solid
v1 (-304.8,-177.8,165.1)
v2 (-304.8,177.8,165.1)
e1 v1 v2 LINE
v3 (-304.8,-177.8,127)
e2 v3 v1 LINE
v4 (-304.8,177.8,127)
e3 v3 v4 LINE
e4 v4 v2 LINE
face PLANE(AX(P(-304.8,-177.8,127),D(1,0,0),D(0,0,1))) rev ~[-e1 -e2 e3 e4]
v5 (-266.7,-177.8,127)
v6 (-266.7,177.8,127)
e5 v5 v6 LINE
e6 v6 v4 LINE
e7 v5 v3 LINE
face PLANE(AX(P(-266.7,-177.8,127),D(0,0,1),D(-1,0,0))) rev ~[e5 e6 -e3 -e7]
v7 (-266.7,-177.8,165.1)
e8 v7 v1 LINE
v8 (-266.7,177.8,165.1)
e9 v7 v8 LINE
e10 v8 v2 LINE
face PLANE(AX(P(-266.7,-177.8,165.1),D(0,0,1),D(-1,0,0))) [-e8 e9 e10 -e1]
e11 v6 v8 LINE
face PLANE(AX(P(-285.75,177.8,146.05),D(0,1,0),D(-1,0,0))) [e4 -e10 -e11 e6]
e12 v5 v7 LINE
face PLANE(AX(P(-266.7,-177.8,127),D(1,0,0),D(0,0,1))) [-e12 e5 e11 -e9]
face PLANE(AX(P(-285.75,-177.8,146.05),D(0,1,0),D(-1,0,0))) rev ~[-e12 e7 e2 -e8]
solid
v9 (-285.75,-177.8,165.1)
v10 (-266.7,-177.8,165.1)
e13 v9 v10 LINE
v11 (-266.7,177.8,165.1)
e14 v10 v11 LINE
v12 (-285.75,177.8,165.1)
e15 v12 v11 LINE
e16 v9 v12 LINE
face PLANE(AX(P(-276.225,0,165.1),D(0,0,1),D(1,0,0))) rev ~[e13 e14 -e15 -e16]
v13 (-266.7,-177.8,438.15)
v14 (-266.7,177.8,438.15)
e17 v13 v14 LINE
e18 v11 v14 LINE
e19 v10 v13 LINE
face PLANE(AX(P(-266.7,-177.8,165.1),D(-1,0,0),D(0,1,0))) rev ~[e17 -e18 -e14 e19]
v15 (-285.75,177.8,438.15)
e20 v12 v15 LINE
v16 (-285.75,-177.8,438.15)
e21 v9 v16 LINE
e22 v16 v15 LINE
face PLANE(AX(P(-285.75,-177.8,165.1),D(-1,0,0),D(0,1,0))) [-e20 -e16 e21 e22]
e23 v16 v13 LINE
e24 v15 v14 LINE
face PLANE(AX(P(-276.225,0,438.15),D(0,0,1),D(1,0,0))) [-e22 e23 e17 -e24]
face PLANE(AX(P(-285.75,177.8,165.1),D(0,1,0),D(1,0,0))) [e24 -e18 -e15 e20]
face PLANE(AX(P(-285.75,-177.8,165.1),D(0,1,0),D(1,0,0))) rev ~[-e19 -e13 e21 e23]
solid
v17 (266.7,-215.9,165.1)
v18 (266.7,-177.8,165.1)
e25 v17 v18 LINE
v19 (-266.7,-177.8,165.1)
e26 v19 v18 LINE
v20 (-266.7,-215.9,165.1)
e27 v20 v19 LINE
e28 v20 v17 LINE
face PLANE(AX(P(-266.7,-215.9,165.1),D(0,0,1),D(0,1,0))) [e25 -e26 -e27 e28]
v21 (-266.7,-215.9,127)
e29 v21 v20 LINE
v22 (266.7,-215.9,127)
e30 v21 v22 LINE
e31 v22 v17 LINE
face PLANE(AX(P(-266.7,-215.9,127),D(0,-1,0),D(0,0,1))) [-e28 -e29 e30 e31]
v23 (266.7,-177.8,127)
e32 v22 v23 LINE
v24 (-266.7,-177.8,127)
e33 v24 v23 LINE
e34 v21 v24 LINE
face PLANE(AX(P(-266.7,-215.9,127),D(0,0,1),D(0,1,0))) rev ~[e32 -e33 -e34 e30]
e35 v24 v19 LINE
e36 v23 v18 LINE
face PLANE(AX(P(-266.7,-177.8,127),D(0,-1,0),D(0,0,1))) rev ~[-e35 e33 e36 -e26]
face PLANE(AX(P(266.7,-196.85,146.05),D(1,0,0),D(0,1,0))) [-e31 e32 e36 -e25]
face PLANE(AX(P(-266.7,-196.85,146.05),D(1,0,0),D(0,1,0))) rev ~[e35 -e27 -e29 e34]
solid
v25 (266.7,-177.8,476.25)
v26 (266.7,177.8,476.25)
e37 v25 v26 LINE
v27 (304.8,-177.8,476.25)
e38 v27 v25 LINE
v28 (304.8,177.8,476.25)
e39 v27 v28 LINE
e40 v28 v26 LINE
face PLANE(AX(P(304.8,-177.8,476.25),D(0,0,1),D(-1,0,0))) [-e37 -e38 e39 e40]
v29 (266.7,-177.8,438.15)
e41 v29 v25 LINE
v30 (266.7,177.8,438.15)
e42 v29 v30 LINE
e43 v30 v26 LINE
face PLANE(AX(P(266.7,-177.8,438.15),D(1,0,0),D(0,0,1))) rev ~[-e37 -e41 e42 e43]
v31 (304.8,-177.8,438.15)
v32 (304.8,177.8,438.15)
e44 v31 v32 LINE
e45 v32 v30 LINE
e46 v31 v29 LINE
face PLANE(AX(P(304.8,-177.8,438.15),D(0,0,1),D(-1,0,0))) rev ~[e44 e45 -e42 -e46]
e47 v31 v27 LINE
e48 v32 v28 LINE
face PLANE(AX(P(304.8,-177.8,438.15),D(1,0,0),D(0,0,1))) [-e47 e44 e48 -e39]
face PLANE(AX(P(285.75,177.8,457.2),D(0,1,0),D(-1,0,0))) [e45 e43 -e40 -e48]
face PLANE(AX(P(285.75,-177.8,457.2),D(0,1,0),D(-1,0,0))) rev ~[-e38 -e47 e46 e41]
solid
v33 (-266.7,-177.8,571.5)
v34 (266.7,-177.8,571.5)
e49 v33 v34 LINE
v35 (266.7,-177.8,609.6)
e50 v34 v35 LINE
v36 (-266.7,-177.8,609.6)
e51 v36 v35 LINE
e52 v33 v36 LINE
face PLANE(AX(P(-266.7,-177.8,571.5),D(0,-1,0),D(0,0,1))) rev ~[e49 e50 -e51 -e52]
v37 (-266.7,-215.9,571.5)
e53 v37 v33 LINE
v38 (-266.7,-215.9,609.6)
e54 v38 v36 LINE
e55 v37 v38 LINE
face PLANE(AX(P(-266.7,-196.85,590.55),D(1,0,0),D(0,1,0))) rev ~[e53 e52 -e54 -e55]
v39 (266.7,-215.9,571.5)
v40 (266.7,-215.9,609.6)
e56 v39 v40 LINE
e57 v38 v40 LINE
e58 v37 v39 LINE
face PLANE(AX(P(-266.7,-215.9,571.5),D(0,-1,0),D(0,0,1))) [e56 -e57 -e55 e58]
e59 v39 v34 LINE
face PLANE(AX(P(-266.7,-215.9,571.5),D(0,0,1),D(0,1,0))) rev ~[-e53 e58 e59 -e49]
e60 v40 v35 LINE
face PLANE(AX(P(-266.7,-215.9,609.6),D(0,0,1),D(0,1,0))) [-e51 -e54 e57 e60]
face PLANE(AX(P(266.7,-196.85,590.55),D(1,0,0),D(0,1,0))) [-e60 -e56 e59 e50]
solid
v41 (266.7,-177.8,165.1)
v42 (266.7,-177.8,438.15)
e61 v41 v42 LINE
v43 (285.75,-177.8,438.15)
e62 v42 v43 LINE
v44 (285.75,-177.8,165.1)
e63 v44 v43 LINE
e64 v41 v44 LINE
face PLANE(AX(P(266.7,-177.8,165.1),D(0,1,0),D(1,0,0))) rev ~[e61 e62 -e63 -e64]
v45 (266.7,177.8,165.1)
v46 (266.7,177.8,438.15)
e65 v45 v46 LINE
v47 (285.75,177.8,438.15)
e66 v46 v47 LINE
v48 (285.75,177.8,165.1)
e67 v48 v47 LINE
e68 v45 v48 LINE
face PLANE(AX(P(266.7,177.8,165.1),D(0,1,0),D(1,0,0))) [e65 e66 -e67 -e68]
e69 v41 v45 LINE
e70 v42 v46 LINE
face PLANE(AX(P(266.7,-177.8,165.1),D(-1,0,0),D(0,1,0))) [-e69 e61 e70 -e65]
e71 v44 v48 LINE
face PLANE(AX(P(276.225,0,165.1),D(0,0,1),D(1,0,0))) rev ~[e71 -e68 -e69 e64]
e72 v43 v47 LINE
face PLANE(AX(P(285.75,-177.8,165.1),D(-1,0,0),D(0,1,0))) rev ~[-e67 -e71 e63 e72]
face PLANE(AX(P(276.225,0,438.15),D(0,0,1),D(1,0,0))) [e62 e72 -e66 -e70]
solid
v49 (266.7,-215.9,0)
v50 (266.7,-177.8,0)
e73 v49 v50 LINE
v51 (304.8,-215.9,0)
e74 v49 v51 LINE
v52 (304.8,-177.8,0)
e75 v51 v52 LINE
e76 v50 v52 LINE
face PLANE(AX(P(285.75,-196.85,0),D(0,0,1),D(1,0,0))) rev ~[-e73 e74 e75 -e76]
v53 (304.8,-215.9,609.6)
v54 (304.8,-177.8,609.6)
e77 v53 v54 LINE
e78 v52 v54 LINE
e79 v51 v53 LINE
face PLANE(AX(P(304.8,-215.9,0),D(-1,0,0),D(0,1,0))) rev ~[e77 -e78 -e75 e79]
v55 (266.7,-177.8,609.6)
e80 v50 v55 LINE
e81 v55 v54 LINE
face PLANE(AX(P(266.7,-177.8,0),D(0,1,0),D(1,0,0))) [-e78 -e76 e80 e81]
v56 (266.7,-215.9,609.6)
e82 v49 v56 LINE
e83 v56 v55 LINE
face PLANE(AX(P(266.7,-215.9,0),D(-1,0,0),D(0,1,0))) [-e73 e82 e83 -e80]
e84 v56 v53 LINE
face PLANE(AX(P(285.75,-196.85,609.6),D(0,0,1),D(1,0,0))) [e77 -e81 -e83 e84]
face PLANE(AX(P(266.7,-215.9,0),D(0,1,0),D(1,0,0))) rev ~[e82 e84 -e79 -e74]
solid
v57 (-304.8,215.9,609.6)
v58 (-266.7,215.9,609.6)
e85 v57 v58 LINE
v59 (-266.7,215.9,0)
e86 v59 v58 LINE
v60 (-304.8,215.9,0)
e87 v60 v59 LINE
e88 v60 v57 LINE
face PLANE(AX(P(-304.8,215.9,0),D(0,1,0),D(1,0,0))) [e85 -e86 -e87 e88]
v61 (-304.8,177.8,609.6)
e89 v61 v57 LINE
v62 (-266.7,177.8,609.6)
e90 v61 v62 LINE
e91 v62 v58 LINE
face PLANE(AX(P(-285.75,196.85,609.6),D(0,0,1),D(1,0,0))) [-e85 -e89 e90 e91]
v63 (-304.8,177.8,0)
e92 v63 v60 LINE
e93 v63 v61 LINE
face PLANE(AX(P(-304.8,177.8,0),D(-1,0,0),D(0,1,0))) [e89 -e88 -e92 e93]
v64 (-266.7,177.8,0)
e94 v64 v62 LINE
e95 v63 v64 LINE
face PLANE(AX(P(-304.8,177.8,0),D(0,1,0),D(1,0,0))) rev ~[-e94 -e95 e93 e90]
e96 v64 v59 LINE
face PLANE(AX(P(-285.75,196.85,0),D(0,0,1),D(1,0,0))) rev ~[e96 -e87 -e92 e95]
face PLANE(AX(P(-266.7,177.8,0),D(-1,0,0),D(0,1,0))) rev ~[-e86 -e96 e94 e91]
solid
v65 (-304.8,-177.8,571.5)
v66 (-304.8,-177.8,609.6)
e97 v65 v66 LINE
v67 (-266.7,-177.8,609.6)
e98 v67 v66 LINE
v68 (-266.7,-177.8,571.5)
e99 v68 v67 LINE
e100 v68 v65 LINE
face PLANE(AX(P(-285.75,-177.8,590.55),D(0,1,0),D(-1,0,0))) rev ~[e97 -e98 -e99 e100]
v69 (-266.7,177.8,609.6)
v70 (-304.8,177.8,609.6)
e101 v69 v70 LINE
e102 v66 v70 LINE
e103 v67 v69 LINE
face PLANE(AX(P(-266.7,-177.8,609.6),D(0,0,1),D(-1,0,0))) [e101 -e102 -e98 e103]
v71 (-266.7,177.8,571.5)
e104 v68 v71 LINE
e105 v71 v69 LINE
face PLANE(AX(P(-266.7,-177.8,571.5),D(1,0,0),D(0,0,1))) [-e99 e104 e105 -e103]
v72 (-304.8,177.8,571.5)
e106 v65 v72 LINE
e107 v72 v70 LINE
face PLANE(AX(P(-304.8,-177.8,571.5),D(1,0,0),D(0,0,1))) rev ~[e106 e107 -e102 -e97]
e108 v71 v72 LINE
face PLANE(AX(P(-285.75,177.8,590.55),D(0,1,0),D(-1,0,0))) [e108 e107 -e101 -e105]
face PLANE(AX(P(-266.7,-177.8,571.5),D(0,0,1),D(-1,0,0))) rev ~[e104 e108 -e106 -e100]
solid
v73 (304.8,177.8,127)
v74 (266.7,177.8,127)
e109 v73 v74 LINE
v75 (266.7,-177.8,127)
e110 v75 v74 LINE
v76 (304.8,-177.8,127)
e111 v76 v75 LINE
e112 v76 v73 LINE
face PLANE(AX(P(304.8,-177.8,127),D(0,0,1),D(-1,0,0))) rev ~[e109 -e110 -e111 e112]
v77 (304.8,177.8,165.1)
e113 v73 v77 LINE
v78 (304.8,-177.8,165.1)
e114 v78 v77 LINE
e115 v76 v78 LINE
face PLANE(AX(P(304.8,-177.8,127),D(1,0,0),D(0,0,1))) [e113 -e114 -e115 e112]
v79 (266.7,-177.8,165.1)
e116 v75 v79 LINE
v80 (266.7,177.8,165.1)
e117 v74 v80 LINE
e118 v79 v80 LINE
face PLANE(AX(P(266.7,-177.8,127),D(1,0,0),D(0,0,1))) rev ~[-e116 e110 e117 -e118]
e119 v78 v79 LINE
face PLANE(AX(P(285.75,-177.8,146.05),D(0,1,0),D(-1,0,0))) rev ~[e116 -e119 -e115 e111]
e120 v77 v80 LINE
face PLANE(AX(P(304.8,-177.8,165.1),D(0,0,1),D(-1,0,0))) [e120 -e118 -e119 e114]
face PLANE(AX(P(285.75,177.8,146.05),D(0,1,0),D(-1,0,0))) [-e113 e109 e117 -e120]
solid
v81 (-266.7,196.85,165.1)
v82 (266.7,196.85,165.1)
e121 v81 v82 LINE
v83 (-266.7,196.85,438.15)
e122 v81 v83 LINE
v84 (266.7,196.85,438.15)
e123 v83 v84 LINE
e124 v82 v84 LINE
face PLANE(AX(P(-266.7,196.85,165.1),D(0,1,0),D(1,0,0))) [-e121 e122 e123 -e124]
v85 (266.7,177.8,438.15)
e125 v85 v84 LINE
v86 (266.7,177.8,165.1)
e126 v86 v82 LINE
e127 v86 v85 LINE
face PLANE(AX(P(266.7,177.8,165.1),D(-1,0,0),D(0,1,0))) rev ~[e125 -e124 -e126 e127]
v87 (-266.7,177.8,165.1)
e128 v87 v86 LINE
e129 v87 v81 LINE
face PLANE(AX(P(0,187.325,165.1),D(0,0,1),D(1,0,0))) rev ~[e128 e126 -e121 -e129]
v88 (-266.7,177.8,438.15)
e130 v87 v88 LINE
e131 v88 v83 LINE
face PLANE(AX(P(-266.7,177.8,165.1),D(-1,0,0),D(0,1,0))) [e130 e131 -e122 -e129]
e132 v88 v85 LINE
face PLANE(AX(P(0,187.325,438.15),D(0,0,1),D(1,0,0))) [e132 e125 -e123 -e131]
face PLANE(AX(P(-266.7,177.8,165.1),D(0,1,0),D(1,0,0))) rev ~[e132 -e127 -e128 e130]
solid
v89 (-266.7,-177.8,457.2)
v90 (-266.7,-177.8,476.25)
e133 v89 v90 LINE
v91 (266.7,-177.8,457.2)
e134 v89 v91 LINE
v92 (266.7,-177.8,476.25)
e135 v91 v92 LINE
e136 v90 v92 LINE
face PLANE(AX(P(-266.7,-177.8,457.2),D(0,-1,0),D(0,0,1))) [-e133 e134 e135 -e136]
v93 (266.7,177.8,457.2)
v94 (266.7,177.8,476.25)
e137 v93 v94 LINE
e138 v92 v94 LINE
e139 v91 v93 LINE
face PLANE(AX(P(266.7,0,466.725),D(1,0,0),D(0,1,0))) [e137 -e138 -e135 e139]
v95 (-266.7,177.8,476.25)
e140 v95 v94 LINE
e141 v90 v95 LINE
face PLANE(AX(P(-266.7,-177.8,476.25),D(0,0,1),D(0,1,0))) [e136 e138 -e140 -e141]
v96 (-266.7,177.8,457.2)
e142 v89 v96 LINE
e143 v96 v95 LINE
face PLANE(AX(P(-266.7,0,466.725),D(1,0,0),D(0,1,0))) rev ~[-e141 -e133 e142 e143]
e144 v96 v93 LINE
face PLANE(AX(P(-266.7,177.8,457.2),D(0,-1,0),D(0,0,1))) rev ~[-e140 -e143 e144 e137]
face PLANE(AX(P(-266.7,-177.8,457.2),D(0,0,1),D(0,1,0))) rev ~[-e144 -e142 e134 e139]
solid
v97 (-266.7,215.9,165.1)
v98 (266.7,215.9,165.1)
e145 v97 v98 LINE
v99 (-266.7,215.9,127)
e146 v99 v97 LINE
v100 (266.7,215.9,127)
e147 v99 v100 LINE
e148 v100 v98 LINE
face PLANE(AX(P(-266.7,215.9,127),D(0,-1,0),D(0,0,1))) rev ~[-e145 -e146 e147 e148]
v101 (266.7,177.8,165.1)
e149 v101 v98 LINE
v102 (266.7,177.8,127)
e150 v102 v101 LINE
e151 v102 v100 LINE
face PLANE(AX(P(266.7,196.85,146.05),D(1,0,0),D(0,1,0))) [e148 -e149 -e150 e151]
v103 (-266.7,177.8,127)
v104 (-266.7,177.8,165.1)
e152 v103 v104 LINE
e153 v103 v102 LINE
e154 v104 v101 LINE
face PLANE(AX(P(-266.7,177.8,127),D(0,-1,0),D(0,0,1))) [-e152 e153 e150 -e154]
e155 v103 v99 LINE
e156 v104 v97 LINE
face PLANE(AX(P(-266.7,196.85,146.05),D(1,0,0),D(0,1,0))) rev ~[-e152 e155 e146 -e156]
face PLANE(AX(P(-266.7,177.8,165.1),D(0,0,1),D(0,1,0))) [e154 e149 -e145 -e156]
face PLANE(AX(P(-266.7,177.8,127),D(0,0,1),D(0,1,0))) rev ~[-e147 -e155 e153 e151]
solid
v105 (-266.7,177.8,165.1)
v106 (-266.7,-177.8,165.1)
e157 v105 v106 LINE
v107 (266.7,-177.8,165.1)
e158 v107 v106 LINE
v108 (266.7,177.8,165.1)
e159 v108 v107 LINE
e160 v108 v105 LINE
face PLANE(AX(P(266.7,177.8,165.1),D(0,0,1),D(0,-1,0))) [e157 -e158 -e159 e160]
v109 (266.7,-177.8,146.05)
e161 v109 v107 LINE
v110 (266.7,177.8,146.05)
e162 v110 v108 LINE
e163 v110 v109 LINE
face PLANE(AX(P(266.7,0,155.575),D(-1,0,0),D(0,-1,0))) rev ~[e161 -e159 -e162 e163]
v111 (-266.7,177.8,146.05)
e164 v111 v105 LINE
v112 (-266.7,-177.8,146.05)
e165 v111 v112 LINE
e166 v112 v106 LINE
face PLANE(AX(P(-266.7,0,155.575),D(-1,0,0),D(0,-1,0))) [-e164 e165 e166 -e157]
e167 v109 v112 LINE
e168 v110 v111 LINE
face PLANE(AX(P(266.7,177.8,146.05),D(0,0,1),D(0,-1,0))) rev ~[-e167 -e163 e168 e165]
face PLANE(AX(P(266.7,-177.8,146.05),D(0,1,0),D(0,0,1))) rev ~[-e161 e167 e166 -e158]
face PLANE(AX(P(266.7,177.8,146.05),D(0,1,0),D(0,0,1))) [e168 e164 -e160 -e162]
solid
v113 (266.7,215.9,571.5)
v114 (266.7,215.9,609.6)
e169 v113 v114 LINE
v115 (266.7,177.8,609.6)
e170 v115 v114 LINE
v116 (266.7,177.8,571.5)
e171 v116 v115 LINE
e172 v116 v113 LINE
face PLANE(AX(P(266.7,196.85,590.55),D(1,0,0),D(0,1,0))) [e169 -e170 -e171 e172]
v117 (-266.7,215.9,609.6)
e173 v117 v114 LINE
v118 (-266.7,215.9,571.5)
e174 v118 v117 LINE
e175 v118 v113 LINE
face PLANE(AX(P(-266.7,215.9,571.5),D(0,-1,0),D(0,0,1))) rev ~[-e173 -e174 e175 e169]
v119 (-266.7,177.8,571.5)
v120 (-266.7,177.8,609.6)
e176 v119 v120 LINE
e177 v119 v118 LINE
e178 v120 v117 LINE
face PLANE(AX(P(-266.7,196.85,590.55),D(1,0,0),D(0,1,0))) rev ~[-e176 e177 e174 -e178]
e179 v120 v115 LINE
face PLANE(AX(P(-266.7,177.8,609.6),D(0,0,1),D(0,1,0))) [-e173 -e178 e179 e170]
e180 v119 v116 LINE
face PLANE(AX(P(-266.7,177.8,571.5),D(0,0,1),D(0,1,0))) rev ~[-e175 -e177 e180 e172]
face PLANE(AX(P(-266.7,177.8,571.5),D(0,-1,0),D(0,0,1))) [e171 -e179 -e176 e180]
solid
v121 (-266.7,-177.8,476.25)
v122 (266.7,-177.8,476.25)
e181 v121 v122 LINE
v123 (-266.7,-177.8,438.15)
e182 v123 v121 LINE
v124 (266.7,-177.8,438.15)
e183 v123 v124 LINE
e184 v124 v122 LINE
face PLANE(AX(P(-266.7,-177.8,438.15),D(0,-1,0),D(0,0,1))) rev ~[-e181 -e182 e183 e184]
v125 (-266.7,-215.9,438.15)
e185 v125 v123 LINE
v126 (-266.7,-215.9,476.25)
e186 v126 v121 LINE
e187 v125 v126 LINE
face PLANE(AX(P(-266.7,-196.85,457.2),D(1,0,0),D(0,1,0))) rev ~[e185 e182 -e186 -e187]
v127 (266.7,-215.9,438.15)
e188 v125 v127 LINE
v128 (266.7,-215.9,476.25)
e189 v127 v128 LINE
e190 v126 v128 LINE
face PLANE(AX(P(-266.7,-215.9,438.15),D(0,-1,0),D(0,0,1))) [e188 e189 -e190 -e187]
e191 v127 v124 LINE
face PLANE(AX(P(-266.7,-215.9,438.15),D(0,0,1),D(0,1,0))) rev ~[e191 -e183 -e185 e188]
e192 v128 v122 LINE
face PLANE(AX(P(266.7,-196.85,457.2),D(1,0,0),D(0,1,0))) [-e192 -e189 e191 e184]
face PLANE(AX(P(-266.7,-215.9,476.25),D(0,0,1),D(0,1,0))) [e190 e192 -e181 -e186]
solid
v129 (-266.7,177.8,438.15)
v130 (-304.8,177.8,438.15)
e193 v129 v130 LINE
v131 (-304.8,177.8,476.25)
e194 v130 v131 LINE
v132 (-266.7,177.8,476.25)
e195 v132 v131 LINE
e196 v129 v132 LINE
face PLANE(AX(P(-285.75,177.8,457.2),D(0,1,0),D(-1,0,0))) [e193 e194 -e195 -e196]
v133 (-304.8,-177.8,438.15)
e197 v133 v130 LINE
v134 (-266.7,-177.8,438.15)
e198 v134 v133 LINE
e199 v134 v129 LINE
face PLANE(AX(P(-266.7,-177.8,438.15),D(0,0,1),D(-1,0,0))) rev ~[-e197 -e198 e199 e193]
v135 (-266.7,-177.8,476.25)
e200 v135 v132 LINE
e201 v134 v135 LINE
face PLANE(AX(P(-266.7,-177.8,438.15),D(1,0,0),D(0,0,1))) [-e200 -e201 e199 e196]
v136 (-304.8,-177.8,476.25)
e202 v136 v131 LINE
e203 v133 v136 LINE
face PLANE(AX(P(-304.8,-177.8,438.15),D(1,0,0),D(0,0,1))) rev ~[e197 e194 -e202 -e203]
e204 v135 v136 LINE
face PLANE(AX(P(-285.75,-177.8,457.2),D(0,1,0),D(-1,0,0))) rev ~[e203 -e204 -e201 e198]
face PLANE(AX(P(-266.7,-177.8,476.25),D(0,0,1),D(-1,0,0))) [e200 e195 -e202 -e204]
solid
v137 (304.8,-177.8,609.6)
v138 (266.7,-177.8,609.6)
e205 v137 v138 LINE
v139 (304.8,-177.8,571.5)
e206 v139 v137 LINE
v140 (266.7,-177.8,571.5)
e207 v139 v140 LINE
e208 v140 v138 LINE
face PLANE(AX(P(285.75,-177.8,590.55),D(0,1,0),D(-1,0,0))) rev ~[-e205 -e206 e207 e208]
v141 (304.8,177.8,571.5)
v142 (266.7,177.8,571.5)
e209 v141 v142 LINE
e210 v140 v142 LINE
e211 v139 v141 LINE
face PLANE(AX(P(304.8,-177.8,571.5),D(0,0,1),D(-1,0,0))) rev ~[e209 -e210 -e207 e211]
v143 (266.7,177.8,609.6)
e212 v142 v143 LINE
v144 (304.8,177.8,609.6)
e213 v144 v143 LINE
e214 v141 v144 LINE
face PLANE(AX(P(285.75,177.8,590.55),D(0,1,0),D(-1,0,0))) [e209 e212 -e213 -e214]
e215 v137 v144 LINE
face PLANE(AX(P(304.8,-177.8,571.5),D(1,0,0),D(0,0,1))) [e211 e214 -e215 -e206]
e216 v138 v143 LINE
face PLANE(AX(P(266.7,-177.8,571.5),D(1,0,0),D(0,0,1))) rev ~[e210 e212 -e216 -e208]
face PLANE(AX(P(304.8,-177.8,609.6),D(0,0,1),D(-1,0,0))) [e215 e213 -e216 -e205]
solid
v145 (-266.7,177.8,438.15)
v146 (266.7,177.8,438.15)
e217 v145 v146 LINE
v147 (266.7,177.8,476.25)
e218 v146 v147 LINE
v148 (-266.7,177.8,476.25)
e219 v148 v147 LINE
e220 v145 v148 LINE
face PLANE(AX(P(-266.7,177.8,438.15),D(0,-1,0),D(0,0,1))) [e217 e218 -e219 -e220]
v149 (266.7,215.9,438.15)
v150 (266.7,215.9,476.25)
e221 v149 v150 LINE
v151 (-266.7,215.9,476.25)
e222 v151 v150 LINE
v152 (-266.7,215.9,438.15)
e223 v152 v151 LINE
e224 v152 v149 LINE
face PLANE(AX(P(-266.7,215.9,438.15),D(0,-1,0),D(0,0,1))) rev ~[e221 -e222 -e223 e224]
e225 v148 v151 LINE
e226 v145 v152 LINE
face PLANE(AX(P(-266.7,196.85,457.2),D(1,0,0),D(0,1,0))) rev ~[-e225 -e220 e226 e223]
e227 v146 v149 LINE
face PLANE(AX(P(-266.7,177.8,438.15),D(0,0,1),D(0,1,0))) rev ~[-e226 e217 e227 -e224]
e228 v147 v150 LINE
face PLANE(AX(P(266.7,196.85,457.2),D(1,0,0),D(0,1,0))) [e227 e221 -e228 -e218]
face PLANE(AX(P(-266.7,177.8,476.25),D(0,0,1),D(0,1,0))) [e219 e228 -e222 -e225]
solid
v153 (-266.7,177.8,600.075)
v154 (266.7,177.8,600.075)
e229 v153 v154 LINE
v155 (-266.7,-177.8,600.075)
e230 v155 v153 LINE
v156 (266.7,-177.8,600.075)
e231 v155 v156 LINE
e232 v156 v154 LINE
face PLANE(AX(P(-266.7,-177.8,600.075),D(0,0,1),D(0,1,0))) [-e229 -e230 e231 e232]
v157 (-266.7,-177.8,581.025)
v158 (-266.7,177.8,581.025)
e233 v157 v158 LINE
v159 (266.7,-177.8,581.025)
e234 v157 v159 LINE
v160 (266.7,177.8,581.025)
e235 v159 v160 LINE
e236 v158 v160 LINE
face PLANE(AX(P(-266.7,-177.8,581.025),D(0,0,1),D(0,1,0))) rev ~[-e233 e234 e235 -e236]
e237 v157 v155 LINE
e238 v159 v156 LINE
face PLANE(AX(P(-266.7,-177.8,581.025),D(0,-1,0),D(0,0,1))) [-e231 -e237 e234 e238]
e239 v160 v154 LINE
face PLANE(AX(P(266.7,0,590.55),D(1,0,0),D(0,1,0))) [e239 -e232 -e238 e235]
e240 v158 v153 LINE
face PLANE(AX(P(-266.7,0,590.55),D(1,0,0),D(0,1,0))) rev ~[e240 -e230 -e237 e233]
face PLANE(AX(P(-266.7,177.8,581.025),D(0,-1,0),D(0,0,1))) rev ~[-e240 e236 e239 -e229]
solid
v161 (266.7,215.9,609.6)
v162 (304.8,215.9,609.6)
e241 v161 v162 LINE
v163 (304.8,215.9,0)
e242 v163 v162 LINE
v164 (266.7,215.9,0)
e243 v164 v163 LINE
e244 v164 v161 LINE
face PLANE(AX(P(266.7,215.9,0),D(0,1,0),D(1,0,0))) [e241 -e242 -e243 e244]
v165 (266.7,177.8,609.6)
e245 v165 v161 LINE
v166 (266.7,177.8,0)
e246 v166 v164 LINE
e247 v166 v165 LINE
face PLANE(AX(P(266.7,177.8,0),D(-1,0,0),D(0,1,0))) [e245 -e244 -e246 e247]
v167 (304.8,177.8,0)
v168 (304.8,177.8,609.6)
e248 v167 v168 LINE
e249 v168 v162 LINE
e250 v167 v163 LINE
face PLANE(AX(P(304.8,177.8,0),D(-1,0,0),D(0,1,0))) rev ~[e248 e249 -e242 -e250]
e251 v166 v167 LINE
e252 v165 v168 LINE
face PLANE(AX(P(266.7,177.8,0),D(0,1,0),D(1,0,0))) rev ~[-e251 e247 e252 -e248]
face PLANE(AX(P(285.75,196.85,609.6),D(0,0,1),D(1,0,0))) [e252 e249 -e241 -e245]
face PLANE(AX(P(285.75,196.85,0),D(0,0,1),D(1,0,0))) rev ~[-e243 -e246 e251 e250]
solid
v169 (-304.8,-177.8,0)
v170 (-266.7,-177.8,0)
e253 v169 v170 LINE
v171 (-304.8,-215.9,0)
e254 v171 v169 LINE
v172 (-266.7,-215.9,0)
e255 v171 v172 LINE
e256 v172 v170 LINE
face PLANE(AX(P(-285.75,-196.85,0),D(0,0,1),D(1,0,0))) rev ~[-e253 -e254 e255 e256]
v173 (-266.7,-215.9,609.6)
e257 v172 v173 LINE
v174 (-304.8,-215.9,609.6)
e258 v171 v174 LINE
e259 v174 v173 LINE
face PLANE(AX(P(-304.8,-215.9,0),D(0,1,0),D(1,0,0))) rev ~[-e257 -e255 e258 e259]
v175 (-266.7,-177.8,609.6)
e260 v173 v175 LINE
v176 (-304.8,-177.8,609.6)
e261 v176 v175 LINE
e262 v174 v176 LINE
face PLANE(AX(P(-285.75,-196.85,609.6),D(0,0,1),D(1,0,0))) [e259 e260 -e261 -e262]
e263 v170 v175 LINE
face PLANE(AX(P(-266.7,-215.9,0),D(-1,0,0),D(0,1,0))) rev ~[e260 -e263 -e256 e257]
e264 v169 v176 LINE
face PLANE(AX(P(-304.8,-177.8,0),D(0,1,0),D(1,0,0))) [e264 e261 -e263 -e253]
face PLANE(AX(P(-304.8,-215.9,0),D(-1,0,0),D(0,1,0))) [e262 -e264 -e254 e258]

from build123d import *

# Parameters (mm, degrees)
F0_W      = 38.1
F0_H      = 38.1
F1_DEPTH  = 609.6
F2_W      = 38.1
F2_H      = 38.1
F3_DEPTH  = 533.4
F4_W      = 38.1
F4_H      = 38.1
F5_DEPTH  = 355.6
F6_W      = 355.6
F6_H      = 19.05
F7_DEPTH  = 533.4
F8_W      = 19.05
F8_H      = 355.6
F8_W_2    = 533.4
F8_H_2    = 19.05
F9_DEPTH  = 273.05
F10_W     = 355.6
F10_H     = 19.05
F11_DEPTH = 533.4
F12_W     = 355.6
F12_H     = 19.05
F13_DEPTH = 533.4


with BuildPart() as f1:
    # F0 (on Top) → F1 (new body)
    with BuildSketch(Plane.XY):
        with Locations((-285.75, -196.85)):
            Rectangle(F0_W, F0_H)
        with Locations((-285.75, 196.85)):
            Rectangle(F0_W, F0_H)
        with Locations((285.75, 196.85)):
            Rectangle(F0_W, F0_H)
        with Locations((285.75, -196.85)):
            Rectangle(F0_W, F0_H)
    extrude(amount=F1_DEPTH)


with BuildPart() as f3:
    # F2 (on face) → F3 (new body, through all)
    with BuildSketch(Plane.YZ.offset(-266.7)):
        with Locations((-196.85, 146.05)):
            Rectangle(F2_W, F2_H)
        with Locations((196.85, 146.05)):
            Rectangle(F2_W, F2_H)
        with Locations((-196.85, 590.55)):
            Rectangle(F2_W, F2_H)
        with Locations((-196.85, 457.2)):
            Rectangle(F2_W, F2_H)
        with Locations((196.85, 457.2)):
            Rectangle(F2_W, F2_H)
        with Locations((196.85, 590.55)):
            Rectangle(F2_W, F2_H)
    extrude(amount=F3_DEPTH)


with BuildPart() as f5:
    # F4 (on face) → F5 (new body, through all)
    with BuildSketch(Plane(origin=(0, -177.8, 0), x_dir=(-1, 0, 0), z_dir=(0, 1, 0))):
        with Locations((-285.75, 590.55)):
            Rectangle(F4_W, F4_H)
        with Locations((-285.75, 457.2)):
            Rectangle(F4_W, F4_H)
        with Locations((-285.75, 146.05)):
            Rectangle(F4_W, F4_H)
        with Locations((285.75, 146.05)):
            Rectangle(F4_W, F4_H)
        with Locations((285.75, 457.2)):
            Rectangle(F4_W, F4_H)
        with Locations((285.75, 590.55)):
            Rectangle(F4_W, F4_H)
    extrude(amount=F5_DEPTH)


with BuildPart() as f7:
    # F6 (on face) → F7 (new body, through all)
    with BuildSketch(Plane(origin=(266.7, 0, 0), x_dir=(0, -1, 0), z_dir=(-1, 0, 0))):
        with Locations((0, 155.575)):
            Rectangle(F6_W, F6_H)
    extrude(amount=F7_DEPTH)


with BuildPart() as f9:
    # F8 (on face) → F9 (new body, through all)
    with BuildSketch(Plane.XY.offset(165.1)):
        with Locations((276.225, 0)):
            Rectangle(F8_W, F8_H)
        with Locations((0, 187.325)):
            Rectangle(F8_W_2, F8_H_2)
        with Locations((-276.225, 0)):
            Rectangle(F8_W, F8_H)
    extrude(amount=F9_DEPTH)


with BuildPart() as f11:
    # F10 (on face) → F11 (new body, through all)
    with BuildSketch(Plane.YZ.offset(-266.7)):
        with Locations((0, 466.725)):
            Rectangle(F10_W, F10_H)
    extrude(amount=F11_DEPTH)


with BuildPart() as f13:
    # F12 (on face) → F13 (new body, through all)
    with BuildSketch(Plane.YZ.offset(-266.7)):
        with Locations((0, 590.55)):
            Rectangle(F12_W, F12_H)
    extrude(amount=F13_DEPTH)


solid = Compound([f1.part, f3.part, f5.part, f7.part, f9.part, f11.part, f13.part])
